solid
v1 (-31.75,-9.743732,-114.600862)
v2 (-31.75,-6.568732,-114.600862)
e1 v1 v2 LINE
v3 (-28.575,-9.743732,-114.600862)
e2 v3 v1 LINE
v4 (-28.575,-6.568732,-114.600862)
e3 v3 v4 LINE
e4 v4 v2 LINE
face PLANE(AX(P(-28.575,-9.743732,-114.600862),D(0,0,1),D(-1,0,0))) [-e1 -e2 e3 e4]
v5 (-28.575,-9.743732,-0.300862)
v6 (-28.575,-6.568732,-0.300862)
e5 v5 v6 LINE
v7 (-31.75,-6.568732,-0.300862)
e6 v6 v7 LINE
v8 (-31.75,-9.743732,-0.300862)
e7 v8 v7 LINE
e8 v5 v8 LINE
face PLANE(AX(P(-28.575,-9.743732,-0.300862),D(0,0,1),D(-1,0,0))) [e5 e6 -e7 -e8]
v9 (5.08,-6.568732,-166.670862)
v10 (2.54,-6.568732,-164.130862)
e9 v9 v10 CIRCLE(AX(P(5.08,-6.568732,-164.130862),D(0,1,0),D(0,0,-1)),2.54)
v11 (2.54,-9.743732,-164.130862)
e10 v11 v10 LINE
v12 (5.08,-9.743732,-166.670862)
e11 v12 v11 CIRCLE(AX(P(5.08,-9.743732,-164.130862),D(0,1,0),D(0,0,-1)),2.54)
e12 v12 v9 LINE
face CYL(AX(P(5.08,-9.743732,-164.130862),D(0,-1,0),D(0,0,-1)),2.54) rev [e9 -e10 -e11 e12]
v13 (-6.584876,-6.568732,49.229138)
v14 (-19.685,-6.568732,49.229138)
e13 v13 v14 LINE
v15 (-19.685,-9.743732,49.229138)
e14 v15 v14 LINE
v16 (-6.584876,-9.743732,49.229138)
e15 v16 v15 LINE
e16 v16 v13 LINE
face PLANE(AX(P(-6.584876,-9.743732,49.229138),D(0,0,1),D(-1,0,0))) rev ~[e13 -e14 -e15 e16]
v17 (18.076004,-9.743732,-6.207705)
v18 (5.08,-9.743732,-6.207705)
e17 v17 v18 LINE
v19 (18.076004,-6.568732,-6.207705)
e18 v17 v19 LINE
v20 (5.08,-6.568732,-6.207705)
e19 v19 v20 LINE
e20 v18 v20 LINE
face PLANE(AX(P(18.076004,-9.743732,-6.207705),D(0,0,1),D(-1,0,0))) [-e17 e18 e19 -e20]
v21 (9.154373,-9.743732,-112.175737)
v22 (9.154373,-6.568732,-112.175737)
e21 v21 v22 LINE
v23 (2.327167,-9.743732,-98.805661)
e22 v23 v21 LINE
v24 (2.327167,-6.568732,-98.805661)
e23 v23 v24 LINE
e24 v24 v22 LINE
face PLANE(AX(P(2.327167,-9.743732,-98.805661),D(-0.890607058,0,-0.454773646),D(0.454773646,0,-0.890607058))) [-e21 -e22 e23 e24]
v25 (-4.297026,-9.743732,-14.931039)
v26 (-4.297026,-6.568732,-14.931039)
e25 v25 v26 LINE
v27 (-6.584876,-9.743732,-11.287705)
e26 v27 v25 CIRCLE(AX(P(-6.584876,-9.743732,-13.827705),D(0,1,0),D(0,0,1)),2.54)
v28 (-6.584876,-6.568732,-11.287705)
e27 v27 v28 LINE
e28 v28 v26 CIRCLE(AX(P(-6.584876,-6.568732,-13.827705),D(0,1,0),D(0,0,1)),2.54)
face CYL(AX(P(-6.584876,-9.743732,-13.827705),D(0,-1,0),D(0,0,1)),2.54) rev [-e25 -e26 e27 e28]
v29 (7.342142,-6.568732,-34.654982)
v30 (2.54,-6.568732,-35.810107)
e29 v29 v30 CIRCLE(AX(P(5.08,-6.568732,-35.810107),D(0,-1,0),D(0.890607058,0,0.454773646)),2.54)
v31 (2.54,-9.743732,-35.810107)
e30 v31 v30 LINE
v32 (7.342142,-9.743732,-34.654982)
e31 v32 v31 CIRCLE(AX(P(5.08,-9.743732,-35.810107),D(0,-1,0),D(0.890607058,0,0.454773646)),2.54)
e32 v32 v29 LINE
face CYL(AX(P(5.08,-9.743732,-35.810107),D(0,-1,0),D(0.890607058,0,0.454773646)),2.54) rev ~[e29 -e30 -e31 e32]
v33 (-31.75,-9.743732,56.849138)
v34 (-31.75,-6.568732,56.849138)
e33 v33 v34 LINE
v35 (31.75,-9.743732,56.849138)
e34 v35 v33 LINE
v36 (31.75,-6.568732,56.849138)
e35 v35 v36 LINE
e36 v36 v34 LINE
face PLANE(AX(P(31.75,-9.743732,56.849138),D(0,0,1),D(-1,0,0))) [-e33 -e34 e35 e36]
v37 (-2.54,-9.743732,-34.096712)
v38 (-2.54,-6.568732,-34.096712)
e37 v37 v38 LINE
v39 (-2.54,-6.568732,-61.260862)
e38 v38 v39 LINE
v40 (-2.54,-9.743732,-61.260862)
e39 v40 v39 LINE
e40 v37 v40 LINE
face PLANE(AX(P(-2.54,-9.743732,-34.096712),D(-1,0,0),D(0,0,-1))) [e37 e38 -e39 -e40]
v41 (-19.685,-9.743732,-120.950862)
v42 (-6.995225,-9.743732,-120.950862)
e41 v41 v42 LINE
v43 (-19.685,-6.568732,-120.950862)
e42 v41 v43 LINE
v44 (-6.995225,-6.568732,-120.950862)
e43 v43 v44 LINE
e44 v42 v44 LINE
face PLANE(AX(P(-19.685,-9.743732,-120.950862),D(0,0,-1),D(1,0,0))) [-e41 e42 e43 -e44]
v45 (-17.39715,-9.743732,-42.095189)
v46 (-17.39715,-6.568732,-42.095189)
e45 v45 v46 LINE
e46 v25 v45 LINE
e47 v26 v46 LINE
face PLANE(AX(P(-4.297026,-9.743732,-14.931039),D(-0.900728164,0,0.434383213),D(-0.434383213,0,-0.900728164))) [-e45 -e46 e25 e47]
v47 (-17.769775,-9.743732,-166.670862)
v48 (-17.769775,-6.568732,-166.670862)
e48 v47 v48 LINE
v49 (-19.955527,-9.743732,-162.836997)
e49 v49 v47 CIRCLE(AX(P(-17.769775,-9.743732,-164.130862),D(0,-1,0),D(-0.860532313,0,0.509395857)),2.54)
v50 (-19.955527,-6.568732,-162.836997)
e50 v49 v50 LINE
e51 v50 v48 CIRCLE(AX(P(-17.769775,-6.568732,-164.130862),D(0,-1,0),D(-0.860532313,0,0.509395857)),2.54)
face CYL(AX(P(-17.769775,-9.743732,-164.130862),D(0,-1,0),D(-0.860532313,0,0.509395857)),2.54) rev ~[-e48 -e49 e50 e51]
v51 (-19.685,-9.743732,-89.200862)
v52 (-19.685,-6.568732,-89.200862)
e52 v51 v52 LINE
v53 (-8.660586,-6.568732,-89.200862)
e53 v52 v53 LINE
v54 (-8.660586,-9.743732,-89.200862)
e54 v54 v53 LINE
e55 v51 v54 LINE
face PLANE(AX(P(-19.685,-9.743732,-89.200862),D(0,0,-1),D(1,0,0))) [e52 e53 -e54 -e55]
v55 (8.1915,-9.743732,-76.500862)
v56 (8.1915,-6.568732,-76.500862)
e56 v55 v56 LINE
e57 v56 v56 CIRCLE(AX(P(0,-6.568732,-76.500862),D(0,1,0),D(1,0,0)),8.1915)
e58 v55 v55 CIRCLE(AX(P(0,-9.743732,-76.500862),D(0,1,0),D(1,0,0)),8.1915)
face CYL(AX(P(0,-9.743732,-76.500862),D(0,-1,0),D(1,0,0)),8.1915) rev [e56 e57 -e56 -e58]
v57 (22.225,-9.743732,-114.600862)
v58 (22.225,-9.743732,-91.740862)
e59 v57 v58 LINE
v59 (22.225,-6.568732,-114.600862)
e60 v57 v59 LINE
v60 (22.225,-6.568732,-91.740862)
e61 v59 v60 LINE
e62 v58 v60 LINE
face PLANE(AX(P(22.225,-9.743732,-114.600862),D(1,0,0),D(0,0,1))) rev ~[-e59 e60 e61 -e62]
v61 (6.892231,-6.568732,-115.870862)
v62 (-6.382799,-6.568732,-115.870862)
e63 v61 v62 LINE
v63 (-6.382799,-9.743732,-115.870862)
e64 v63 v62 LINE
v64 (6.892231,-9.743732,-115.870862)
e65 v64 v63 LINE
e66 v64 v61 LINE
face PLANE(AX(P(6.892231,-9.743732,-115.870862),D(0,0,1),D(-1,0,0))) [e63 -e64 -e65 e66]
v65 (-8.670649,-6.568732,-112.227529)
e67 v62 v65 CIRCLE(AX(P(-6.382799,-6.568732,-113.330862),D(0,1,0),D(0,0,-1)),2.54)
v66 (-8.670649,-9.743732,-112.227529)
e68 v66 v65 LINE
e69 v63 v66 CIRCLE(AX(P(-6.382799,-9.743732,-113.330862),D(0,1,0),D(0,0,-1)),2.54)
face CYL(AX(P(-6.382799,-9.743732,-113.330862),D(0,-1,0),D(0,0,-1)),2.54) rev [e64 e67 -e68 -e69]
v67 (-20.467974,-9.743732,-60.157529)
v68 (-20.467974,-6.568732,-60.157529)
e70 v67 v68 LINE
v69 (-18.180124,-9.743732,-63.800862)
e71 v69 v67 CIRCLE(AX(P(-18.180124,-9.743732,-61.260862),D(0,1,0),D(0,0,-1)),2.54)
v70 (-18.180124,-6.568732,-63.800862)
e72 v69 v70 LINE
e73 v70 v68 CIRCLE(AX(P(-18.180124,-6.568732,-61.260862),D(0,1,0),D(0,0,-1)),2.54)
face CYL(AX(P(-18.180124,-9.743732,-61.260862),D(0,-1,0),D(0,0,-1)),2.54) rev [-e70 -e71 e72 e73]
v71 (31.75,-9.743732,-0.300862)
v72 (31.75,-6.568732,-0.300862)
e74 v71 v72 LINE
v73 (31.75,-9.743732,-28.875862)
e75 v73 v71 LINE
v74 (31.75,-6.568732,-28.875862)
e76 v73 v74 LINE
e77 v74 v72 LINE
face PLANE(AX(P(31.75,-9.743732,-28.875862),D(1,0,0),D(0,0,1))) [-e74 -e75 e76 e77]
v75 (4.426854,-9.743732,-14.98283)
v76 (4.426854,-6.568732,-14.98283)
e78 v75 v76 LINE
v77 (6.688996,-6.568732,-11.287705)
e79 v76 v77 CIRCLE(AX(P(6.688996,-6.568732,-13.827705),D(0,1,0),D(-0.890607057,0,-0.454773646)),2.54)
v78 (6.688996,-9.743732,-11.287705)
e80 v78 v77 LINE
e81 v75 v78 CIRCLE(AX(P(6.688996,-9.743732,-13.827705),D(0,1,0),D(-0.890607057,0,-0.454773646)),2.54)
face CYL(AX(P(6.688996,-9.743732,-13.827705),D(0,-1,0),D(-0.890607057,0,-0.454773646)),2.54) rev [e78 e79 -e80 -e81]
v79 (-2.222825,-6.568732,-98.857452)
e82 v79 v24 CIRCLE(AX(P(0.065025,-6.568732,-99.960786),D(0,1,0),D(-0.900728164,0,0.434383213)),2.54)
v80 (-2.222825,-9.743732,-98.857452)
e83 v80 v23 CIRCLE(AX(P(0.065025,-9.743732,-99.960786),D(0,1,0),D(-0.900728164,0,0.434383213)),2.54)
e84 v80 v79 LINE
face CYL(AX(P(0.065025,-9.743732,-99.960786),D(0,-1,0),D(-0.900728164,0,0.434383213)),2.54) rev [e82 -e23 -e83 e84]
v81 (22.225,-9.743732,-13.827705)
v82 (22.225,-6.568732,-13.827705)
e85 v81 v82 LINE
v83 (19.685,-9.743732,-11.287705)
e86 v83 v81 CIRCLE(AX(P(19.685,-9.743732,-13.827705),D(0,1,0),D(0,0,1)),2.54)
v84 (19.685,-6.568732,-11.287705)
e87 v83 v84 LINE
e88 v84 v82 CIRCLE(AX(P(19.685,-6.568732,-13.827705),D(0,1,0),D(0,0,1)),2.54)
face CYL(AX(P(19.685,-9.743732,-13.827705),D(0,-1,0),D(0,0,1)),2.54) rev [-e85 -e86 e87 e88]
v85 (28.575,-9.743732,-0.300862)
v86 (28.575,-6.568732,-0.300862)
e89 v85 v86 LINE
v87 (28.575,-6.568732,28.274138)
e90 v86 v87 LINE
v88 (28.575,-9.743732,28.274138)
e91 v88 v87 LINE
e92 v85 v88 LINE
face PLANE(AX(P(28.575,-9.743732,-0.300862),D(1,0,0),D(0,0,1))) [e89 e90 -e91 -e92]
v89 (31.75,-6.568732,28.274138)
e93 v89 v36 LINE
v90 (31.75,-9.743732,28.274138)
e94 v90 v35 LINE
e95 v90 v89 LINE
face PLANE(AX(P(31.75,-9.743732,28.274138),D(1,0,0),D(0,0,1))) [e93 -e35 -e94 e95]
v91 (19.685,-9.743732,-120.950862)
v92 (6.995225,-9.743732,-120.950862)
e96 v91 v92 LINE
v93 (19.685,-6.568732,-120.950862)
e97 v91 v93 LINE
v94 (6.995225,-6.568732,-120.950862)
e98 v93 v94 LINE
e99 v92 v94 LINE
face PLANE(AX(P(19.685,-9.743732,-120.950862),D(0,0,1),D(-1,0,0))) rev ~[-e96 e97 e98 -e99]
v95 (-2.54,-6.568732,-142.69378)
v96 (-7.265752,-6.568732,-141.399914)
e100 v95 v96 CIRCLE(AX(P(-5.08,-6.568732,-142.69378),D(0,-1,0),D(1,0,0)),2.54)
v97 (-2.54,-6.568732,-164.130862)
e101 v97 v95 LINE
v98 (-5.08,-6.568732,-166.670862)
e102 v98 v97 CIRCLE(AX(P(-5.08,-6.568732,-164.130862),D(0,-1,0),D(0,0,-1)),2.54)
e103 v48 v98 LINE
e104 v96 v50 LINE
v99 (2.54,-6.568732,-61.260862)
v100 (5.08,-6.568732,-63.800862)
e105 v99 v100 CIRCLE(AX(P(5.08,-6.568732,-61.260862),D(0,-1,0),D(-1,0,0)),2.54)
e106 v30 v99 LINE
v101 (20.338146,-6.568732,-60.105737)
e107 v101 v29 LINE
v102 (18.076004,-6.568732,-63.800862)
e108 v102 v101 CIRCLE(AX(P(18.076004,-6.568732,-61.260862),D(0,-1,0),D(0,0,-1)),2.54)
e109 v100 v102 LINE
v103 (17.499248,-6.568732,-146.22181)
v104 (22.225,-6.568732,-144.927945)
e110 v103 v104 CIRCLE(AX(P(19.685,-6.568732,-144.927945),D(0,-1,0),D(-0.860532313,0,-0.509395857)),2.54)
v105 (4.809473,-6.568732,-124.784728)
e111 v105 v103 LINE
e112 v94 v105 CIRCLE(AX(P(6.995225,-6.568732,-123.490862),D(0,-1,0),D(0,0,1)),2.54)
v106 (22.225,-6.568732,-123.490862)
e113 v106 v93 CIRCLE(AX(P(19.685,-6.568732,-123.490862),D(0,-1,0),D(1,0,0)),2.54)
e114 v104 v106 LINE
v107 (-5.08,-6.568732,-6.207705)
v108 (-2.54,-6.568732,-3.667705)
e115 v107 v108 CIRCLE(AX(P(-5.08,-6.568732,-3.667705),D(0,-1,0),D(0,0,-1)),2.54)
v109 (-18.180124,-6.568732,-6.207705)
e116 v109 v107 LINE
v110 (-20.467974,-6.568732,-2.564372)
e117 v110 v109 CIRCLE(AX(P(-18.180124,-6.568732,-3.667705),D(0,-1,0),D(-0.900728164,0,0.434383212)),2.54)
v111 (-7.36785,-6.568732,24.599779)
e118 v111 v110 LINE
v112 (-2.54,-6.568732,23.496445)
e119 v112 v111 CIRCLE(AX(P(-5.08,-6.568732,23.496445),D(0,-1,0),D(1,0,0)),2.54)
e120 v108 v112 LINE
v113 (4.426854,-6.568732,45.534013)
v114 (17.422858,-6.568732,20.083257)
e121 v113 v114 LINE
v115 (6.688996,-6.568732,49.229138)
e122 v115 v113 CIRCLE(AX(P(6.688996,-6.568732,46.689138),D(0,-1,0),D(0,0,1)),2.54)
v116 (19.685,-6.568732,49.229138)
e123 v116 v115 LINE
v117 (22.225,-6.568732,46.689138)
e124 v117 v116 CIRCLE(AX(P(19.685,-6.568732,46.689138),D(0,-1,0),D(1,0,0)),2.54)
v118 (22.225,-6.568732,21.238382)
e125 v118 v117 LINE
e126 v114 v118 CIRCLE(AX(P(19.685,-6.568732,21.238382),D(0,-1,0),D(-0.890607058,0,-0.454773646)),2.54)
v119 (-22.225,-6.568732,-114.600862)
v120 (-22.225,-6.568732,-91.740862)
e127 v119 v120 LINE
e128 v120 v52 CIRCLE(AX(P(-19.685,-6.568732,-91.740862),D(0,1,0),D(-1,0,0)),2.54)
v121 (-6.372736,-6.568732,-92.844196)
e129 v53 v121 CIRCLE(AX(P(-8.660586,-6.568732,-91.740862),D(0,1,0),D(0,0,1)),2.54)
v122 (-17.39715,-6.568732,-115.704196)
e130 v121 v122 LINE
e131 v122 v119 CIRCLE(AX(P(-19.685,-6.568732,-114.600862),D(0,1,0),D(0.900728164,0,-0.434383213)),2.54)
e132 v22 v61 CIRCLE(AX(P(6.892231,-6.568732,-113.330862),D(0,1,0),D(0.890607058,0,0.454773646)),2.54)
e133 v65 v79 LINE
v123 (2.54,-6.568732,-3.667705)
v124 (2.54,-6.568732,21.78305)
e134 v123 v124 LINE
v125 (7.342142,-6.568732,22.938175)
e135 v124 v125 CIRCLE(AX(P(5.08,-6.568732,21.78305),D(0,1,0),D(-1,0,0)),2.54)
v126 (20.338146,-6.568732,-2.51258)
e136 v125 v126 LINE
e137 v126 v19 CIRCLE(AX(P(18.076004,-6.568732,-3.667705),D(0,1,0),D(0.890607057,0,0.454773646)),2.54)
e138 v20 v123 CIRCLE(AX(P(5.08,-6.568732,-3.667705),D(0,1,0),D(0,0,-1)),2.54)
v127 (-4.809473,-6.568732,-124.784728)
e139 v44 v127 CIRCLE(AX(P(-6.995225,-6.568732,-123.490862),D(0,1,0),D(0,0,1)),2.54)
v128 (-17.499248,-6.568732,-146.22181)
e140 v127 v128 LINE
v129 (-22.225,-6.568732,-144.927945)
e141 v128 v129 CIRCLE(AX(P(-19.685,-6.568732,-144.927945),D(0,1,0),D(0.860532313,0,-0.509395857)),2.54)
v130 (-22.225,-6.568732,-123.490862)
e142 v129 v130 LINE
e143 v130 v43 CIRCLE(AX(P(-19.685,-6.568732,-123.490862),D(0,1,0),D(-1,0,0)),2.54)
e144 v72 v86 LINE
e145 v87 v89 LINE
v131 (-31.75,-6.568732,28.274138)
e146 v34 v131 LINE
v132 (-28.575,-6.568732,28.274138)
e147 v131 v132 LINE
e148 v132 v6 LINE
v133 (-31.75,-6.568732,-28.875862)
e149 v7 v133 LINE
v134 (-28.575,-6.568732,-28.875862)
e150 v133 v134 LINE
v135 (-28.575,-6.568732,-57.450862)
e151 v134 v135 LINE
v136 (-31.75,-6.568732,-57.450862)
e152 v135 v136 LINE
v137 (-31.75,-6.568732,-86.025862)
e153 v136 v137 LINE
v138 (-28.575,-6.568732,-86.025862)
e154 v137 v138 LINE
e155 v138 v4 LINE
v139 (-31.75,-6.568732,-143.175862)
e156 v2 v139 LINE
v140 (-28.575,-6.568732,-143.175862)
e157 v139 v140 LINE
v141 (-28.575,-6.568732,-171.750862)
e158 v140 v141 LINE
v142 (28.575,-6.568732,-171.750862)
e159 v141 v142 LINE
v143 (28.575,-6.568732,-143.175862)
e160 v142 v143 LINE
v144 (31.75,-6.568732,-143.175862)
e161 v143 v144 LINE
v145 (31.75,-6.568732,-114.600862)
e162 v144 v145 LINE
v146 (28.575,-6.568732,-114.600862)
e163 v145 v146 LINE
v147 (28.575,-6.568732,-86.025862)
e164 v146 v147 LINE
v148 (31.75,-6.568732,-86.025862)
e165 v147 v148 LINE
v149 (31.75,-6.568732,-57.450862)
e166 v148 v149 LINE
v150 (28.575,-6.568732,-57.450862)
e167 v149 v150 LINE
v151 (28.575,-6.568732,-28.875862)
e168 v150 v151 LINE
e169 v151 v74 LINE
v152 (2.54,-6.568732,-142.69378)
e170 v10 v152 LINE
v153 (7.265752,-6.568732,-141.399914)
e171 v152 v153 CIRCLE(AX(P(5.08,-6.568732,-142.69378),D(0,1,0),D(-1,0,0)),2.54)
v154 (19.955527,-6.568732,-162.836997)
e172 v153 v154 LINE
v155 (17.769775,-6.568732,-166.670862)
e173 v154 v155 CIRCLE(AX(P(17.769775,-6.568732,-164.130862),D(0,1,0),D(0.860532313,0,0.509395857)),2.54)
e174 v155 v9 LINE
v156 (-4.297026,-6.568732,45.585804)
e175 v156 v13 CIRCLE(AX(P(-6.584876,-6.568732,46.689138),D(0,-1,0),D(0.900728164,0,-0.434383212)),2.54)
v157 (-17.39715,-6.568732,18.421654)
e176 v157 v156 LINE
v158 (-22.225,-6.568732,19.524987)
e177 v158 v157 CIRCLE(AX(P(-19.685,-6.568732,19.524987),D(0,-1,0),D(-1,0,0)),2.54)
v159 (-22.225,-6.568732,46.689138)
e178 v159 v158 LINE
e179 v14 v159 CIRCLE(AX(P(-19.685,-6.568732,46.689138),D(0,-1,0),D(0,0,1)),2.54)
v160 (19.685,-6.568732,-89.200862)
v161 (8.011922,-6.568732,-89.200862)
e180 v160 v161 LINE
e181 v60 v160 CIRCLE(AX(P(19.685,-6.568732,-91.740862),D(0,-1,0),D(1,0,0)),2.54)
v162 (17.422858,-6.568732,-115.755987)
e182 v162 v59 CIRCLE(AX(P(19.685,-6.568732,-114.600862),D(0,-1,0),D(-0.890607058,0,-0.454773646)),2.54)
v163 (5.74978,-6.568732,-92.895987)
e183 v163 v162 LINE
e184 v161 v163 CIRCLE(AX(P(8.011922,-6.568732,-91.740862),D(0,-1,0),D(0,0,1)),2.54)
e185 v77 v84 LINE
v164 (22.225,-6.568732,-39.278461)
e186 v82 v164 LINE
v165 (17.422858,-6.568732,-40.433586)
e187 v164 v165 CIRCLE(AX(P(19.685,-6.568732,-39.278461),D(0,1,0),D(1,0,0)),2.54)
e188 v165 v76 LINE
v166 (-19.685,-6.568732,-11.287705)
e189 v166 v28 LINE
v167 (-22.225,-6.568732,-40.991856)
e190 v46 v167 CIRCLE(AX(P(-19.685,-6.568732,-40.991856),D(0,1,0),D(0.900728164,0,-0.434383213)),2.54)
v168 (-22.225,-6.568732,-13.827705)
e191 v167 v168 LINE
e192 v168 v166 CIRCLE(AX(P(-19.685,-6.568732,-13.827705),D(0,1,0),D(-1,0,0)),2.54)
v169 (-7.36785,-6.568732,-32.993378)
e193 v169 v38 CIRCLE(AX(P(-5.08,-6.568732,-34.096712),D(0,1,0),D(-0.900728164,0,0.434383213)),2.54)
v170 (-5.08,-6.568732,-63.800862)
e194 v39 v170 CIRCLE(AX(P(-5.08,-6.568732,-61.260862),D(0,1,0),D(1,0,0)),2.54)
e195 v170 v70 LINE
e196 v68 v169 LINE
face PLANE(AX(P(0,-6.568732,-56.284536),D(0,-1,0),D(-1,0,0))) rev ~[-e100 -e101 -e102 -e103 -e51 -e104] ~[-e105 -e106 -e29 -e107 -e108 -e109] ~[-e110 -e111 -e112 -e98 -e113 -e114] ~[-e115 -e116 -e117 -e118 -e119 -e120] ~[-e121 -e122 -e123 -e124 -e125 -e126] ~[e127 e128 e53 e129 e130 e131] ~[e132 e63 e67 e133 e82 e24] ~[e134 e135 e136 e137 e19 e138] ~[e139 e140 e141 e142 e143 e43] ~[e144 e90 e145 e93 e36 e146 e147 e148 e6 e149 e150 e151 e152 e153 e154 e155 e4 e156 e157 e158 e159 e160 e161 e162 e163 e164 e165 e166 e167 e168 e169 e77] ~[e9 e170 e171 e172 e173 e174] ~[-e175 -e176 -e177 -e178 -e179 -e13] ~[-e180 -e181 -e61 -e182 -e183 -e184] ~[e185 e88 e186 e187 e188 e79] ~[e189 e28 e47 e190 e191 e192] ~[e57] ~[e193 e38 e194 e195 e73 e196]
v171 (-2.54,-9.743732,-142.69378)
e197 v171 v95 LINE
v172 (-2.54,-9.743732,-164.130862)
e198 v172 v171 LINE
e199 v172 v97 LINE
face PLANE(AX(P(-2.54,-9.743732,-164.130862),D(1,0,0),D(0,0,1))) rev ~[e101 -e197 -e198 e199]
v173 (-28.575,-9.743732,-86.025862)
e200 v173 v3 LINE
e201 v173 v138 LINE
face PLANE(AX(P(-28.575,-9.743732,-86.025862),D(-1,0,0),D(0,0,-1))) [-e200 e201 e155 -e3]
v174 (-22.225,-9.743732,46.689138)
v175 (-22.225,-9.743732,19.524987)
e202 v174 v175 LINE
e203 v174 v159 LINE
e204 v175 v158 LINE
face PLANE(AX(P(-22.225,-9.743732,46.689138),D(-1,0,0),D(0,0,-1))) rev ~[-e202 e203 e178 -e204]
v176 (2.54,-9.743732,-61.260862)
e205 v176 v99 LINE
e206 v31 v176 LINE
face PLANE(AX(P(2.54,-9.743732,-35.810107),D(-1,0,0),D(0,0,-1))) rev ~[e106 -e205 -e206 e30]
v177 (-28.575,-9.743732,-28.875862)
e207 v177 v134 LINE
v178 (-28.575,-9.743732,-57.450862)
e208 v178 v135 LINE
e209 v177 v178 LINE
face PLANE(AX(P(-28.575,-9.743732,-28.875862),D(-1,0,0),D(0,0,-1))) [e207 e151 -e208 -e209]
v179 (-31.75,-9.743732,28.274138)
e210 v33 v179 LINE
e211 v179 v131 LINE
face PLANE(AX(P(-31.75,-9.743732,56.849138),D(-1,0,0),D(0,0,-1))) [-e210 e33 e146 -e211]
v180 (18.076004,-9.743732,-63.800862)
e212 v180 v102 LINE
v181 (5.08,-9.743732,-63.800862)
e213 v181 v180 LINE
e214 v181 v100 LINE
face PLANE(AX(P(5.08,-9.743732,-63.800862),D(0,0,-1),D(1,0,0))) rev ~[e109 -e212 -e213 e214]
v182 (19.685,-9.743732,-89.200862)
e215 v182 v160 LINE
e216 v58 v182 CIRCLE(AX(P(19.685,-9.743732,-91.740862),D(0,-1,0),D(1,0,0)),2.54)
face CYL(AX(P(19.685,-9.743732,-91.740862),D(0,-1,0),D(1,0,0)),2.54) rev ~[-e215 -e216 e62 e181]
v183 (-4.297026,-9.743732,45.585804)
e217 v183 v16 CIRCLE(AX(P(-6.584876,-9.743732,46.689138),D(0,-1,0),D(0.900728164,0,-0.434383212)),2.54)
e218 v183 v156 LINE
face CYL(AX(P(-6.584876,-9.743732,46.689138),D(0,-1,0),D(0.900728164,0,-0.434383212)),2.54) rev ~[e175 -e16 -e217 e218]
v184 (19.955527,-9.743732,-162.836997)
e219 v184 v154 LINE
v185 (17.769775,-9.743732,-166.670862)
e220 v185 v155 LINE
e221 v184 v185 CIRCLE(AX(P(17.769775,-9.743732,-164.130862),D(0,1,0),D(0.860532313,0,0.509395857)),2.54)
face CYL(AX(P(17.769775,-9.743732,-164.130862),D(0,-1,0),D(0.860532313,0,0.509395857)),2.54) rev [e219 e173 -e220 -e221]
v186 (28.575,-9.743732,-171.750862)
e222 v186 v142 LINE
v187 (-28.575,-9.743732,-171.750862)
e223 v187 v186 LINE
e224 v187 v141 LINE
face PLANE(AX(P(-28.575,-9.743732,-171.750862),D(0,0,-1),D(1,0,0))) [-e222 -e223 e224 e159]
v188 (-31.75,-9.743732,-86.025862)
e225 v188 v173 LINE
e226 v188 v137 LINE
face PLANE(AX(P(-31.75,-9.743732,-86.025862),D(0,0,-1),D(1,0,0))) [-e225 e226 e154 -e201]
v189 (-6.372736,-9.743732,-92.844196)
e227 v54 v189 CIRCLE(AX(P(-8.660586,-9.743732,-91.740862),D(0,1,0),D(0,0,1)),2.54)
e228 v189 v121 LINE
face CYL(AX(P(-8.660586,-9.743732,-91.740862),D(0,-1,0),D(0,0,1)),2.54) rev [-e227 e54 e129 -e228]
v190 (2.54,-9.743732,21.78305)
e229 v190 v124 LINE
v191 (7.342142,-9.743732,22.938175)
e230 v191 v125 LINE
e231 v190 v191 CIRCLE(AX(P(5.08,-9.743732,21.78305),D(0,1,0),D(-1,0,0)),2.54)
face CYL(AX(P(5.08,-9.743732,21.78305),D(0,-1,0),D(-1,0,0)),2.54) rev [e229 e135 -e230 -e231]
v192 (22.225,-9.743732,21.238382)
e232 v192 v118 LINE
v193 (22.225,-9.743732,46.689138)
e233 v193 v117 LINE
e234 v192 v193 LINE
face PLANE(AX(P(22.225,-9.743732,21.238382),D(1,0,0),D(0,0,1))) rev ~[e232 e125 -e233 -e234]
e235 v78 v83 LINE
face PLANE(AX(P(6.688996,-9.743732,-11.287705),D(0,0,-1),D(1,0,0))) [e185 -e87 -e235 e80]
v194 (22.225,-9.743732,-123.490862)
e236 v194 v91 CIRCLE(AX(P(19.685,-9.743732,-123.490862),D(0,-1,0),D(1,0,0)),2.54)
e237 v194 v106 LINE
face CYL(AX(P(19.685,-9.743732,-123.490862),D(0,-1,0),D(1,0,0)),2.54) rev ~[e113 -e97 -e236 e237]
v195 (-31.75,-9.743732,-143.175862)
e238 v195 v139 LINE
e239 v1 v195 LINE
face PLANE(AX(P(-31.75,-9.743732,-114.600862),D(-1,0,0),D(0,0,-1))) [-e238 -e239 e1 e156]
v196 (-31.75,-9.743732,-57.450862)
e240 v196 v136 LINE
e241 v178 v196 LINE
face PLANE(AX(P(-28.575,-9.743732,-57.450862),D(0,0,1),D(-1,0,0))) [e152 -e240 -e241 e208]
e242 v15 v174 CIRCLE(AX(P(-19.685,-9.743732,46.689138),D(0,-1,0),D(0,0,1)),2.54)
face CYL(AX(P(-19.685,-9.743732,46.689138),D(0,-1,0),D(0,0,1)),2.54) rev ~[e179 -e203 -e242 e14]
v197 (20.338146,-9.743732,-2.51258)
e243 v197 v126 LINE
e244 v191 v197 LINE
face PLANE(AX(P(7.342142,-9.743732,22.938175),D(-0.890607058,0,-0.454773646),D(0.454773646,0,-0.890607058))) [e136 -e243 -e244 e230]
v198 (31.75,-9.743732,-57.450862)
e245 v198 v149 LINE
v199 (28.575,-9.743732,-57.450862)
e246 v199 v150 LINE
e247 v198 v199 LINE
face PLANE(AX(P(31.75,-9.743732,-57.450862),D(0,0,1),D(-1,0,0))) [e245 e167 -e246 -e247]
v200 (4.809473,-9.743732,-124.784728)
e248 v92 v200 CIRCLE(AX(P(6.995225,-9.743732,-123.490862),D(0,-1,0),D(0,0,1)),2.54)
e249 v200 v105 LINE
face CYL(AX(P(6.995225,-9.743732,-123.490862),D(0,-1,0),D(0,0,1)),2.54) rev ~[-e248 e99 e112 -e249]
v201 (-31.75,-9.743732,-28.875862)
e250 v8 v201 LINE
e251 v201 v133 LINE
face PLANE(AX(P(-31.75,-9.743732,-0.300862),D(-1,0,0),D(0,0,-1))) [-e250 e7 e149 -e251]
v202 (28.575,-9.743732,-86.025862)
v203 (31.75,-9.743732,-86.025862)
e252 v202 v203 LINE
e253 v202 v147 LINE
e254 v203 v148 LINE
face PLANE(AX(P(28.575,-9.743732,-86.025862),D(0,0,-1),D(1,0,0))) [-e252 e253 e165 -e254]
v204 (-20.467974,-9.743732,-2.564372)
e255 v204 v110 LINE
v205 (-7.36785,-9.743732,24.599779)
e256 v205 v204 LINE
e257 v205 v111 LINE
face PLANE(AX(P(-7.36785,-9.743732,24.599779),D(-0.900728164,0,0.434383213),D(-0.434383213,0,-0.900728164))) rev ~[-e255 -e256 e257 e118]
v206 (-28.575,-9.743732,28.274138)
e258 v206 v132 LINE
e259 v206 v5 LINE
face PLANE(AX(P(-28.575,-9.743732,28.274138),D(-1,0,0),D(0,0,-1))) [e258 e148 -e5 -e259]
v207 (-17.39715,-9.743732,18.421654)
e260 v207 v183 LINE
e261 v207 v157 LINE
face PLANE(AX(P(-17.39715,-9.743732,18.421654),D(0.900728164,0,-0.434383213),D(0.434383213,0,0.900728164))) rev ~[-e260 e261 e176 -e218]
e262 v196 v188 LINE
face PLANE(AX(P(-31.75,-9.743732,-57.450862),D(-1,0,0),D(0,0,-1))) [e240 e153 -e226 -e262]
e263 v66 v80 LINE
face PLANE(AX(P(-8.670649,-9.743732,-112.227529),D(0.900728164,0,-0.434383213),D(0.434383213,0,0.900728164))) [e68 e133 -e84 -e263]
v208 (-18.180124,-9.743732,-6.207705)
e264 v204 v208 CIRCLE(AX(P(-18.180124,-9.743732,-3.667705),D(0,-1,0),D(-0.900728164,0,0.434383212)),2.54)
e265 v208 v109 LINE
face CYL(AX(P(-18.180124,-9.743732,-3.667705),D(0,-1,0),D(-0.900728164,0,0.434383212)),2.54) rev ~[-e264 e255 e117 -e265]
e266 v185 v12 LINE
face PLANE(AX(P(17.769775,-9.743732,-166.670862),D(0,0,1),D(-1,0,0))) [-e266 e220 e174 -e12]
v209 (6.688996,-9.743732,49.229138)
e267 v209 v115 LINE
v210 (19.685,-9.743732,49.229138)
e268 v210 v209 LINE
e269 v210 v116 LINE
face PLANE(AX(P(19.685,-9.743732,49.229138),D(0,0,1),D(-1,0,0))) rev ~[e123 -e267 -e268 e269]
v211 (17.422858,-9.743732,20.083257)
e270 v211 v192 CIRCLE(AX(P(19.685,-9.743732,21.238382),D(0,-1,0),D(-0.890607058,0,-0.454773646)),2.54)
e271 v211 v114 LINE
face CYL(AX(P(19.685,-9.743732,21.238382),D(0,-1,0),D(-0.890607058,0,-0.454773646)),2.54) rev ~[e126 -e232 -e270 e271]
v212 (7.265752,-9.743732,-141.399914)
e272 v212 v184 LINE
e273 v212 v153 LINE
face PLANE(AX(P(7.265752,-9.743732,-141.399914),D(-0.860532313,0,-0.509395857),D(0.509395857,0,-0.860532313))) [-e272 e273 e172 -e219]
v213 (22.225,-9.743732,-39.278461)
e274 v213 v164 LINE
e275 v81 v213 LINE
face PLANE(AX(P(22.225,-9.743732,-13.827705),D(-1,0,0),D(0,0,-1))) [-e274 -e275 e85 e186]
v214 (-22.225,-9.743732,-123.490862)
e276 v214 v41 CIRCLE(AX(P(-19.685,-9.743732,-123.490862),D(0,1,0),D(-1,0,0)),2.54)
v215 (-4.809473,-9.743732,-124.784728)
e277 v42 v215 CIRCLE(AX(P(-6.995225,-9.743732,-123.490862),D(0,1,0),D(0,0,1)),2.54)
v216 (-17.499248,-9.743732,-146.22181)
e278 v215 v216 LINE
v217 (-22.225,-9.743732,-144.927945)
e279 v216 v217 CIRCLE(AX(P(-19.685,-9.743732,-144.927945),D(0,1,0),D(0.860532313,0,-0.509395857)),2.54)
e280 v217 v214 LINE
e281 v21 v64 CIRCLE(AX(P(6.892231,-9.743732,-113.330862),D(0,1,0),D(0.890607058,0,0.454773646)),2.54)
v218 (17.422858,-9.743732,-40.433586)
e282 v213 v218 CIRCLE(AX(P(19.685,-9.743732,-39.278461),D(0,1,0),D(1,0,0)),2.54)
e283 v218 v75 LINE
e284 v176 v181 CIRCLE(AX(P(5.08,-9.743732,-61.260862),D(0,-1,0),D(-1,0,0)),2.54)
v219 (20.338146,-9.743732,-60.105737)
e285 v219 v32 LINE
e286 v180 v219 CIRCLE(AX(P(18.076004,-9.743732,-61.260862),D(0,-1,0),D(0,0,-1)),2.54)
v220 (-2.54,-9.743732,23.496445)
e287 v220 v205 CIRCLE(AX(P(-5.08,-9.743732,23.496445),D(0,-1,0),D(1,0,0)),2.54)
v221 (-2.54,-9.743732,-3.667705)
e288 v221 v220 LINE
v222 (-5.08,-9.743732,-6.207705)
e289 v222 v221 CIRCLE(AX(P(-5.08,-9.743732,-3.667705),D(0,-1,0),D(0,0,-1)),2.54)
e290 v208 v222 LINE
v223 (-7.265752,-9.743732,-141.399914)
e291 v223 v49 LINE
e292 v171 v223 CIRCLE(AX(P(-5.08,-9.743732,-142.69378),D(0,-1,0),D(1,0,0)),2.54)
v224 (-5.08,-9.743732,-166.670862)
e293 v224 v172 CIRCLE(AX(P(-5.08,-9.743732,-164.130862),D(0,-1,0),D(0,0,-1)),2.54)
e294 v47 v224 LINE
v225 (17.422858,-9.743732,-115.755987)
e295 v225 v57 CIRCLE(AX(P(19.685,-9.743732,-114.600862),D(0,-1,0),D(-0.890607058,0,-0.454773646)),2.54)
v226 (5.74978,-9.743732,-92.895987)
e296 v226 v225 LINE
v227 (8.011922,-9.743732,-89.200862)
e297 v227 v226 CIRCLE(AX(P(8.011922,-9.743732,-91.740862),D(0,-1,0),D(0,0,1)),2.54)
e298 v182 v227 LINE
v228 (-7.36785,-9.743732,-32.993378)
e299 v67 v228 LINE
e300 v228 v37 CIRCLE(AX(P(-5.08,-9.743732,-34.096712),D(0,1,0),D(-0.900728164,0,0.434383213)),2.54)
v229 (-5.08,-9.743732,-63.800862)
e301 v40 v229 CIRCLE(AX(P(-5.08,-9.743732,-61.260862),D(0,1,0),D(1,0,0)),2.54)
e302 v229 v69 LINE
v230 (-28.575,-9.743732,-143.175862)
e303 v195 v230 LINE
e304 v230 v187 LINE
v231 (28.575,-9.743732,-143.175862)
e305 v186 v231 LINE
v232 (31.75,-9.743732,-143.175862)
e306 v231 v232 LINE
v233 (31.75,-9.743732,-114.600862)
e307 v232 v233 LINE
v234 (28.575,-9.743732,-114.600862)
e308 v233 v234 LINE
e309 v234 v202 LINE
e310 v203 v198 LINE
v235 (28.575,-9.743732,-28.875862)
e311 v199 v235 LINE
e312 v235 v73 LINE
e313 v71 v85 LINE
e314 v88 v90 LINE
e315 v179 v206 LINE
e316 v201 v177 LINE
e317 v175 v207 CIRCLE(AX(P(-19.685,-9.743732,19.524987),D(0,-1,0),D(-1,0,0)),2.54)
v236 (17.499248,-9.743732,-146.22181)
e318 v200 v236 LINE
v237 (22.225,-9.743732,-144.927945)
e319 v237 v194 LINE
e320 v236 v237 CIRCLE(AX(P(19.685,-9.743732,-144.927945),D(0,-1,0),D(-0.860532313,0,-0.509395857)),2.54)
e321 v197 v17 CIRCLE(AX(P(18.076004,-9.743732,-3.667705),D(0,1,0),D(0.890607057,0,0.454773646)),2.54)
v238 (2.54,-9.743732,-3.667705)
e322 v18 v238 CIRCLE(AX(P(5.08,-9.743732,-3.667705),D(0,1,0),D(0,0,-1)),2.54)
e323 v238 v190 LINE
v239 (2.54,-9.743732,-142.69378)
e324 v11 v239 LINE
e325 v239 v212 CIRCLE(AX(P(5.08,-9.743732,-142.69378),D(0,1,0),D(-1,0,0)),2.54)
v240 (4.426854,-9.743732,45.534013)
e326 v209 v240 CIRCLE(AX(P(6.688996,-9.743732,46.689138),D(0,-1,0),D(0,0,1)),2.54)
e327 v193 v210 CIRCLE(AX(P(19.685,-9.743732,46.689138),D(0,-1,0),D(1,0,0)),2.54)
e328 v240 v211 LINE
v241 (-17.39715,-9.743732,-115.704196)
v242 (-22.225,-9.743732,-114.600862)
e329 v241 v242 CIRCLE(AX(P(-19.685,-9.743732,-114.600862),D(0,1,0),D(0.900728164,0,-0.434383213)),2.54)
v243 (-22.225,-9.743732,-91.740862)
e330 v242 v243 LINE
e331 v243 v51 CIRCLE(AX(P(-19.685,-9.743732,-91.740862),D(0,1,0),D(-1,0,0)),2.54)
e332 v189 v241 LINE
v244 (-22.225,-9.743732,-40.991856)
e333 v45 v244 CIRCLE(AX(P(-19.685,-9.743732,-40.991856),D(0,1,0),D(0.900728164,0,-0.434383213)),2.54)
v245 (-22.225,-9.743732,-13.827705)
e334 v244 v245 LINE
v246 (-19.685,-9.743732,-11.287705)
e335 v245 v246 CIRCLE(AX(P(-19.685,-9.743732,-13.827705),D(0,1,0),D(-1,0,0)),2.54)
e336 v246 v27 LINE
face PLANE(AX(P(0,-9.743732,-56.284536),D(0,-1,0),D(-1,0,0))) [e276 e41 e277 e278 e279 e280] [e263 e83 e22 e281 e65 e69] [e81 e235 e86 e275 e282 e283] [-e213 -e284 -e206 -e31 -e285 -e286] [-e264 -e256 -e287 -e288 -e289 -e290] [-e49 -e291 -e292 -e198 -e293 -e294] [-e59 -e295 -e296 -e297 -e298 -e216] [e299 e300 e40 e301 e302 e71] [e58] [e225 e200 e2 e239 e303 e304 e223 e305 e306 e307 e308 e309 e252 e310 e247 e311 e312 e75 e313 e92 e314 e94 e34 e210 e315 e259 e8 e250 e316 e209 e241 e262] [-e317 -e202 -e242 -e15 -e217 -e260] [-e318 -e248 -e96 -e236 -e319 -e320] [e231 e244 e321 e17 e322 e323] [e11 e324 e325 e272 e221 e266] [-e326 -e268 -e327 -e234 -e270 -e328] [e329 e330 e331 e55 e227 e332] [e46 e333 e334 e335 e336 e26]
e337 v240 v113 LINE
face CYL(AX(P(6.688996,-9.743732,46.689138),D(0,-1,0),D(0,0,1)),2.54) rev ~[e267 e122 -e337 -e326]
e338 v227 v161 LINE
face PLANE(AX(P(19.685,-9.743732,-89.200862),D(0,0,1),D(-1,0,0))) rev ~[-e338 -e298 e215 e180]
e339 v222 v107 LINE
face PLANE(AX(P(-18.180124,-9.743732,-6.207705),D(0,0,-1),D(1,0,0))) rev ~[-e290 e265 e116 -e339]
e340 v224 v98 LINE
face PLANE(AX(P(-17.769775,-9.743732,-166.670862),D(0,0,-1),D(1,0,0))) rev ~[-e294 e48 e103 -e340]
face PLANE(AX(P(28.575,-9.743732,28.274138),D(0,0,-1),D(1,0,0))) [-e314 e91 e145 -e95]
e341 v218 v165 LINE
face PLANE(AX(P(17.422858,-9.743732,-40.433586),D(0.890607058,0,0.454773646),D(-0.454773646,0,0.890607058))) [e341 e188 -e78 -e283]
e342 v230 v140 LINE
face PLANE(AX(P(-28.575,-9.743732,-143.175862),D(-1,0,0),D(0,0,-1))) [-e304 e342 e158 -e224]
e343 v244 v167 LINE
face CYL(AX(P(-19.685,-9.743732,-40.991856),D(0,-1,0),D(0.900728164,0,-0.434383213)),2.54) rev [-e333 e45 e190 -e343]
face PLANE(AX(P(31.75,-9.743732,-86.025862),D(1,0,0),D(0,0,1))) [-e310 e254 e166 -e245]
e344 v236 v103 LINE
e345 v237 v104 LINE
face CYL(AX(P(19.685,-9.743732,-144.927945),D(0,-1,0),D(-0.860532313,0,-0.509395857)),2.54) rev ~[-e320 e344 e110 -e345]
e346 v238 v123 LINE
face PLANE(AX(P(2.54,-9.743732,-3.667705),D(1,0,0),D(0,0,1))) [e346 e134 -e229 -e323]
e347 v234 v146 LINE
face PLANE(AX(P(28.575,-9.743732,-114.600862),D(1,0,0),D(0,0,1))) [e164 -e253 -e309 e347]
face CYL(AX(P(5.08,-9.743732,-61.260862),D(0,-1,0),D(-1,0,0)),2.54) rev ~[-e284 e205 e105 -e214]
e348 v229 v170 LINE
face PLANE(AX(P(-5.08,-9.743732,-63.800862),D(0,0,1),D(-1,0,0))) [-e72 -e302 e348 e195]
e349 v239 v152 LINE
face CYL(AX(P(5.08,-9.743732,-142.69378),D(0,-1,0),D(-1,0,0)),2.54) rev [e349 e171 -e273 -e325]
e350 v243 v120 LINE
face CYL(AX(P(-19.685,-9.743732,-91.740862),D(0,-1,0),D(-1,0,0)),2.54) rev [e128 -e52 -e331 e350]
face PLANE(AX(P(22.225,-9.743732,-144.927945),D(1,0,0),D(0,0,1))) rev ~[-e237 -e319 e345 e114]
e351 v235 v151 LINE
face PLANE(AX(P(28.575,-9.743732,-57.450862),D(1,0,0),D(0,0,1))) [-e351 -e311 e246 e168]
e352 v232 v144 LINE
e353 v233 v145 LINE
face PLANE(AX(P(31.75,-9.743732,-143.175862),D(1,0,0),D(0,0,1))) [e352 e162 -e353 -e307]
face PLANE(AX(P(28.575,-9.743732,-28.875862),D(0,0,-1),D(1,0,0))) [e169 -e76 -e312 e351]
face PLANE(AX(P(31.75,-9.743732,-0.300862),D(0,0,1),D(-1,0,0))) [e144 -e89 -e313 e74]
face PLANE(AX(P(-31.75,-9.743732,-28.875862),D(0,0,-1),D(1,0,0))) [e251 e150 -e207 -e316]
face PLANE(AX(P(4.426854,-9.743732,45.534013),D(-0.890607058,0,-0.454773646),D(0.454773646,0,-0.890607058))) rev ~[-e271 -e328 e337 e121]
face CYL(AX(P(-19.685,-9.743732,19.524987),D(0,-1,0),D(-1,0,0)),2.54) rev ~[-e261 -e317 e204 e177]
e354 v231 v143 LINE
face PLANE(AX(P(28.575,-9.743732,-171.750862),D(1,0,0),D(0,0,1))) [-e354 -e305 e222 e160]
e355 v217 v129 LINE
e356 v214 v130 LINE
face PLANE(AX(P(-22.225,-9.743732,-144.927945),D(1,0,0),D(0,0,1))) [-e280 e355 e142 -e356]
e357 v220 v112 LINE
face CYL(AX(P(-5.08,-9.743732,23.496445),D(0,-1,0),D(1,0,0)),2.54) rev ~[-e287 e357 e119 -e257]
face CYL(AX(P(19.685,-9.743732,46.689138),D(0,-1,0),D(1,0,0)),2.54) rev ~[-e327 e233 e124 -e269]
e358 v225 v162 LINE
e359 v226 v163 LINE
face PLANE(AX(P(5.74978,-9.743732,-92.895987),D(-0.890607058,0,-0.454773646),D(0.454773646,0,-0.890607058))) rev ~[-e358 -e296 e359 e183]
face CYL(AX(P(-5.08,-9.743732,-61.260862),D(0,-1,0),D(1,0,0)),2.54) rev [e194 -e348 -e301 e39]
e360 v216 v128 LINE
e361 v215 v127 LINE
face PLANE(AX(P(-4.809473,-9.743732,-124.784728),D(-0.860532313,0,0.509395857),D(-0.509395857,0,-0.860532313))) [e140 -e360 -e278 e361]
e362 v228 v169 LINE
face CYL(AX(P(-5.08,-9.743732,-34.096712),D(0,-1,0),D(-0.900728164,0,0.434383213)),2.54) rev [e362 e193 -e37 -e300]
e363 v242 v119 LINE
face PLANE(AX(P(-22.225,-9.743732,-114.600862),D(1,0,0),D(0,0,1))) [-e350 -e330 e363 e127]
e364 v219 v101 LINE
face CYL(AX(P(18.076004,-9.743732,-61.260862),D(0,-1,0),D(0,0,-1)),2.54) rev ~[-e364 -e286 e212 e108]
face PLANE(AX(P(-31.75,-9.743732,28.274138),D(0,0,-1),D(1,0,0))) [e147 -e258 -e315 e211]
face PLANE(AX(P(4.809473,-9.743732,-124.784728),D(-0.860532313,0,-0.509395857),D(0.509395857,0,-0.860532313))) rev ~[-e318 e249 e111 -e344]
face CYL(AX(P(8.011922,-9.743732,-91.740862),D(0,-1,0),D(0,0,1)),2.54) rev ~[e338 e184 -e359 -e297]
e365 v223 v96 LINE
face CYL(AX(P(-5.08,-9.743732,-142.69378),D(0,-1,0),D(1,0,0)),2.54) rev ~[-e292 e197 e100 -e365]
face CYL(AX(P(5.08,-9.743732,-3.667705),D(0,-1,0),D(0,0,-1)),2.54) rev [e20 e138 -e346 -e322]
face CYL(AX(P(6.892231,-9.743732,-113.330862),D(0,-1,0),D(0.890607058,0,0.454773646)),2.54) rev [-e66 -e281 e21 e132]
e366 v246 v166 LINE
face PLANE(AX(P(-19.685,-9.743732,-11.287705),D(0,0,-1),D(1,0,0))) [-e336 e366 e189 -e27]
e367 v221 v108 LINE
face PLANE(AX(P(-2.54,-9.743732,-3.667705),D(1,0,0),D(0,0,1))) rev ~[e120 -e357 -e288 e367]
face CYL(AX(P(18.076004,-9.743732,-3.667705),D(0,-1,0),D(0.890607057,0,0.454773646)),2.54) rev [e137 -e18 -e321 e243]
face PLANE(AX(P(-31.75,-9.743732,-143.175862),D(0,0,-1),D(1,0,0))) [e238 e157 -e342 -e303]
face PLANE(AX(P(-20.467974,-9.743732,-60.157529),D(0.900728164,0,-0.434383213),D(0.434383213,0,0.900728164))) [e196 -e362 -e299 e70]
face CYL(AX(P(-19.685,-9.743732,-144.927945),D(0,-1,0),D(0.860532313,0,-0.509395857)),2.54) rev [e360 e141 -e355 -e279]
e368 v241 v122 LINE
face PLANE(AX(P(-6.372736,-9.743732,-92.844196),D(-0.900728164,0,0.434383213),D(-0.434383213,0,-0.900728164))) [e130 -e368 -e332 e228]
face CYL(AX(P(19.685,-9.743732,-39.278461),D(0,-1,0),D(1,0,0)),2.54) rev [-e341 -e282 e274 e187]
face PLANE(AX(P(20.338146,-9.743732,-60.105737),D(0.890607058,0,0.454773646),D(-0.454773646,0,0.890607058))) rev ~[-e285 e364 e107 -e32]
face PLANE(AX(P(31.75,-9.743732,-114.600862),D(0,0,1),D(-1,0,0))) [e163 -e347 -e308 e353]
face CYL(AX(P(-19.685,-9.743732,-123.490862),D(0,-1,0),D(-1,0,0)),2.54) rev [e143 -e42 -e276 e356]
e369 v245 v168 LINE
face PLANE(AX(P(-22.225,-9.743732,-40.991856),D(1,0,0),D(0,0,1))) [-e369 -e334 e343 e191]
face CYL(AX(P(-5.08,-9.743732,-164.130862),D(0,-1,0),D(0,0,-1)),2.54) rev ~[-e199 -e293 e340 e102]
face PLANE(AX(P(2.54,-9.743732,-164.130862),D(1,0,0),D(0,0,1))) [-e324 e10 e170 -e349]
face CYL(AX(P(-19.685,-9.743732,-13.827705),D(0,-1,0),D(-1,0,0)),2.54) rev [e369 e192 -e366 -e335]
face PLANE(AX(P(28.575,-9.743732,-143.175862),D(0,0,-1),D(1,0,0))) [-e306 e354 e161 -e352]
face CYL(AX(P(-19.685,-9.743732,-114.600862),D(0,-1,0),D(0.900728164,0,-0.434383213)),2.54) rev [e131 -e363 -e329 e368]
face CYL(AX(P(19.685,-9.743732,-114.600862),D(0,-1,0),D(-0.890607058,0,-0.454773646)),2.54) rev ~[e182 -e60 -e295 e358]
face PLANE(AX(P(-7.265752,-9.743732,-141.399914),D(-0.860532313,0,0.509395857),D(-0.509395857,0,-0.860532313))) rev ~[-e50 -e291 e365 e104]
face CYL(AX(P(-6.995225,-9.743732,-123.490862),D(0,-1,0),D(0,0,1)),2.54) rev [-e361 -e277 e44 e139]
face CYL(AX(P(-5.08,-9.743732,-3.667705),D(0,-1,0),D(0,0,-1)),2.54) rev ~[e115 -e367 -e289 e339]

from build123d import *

# Parameters (mm, degrees)
SKETCH1_R           = 8.1915
BOSS_EXTRUDE1_DEPTH = 3.175


with BuildPart() as part:
    # Sketch1 → Boss-Extrude1 (new body)
    with BuildSketch(Plane(origin=(0, -9.743731804, 0), x_dir=(1, 0, 0), z_dir=(0, 1, 0))):
        Polygon((-31.75, 143.175862399), (-28.575, 143.175862399), (-28.575, 171.750862399), (28.575, 171.750862399), (28.575, 143.175862399), (31.75, 143.175862399), (31.75, 114.600862399), (28.575, 114.600862399), (28.575, 86.025862399), (31.75, 86.025862399), (31.75, 57.450862399), (28.575, 57.450862399), (28.575, 28.875862399), (31.75, 28.875862399), (31.75, 0.300862399), (28.575, 0.300862399), (28.575, -28.274137601), (31.75, -28.274137601), (31.75, -56.849137601), (-31.75, -56.849137601), (-31.75, -28.274137601), (-28.575, -28.274137601), (-28.575, 0.300862399), (-31.75, 0.300862399), (-31.75, 28.875862399), (-28.575, 28.875862399), (-28.575, 57.450862399), (-31.75, 57.450862399), (-31.75, 86.025862399), (-28.575, 86.025862399), (-28.575, 114.600862399), (-31.75, 114.600862399), align=None)
        with Locations((0, 76.500862399)):
            Circle(SKETCH1_R, mode=Mode.SUBTRACT)
        with BuildLine():
            Line((-17.769774531, 166.670862399), (-5.08, 166.670862399))
            ThreePointArc((-5.08, 166.670862399), (-3.283948776, 165.926913623), (-2.54, 164.130862399))
            Line((-2.54, 164.130862399), (-2.54, 142.693779868))
            ThreePointArc((-2.54, 142.693779868), (-4.409257974, 140.243942091), (-7.265752074, 141.399914392))
            Line((-7.265752074, 141.399914392), (-19.955526605, 162.836996923))
            ThreePointArc((-19.955526605, 162.836996923), (-19.976357671, 165.388873069), (-17.769774531, 166.670862399))
        make_face(mode=Mode.SUBTRACT)
        with BuildLine():
            Line((2.54, 164.130862399), (2.54, 142.693779868))
            ThreePointArc((2.54, 142.693779868), (4.409257974, 140.243942091), (7.265752074, 141.399914392))
            Line((7.265752074, 141.399914392), (19.955526605, 162.836996923))
            ThreePointArc((19.955526605, 162.836996923), (19.976357671, 165.388873069), (17.769774531, 166.670862399))
            Line((17.769774531, 166.670862399), (5.08, 166.670862399))
            ThreePointArc((5.08, 166.670862399), (3.283948776, 165.926913623), (2.54, 164.130862399))
        make_face(mode=Mode.SUBTRACT)
        with BuildLine():
            Line((-22.225, 144.92794493), (-22.225, 123.490862399))
            ThreePointArc((-22.225, 123.490862399), (-21.481051224, 121.694811175), (-19.685, 120.950862399))
            Line((-19.685, 120.950862399), (-6.995225469, 120.950862399))
            ThreePointArc((-6.995225469, 120.950862399), (-4.788642329, 122.232851729), (-4.809473395, 124.784727875))
            Line((-4.809473395, 124.784727875), (-17.499247926, 146.221810406))
            ThreePointArc((-17.499247926, 146.221810406), (-20.355742026, 147.377782707), (-22.225, 144.92794493))
        make_face(mode=Mode.SUBTRACT)
        with BuildLine():
            Line((4.809473395, 124.784727875), (17.499247926, 146.221810406))
            ThreePointArc((17.499247926, 146.221810406), (20.355742026, 147.377782707), (22.225, 144.92794493))
            Line((22.225, 144.92794493), (22.225, 123.490862399))
            ThreePointArc((22.225, 123.490862399), (21.481051224, 121.694811175), (19.685, 120.950862399))
            Line((19.685, 120.950862399), (6.995225469, 120.950862399))
            ThreePointArc((6.995225469, 120.950862399), (4.788642329, 122.232851729), (4.809473395, 124.784727875))
        make_face(mode=Mode.SUBTRACT)
        with BuildLine():
            Line((5.749780192, 92.89598746), (17.422858074, 115.75598746))
            ThreePointArc((17.422858074, 115.75598746), (20.279036829, 117.070421114), (22.225, 114.600862399))
            Line((22.225, 114.600862399), (22.225, 91.740862399))
            ThreePointArc((22.225, 91.740862399), (21.481051224, 89.944811175), (19.685, 89.200862399))
            Line((19.685, 89.200862399), (8.011922118, 89.200862399))
            ThreePointArc((8.011922118, 89.200862399), (5.845632934, 90.414668155), (5.749780192, 92.89598746))
        make_face(mode=Mode.SUBTRACT)
        with BuildLine():
            Line((-6.372736394, 92.844195759), (-17.397150465, 115.704195759))
            ThreePointArc((-17.397150465, 115.704195759), (-20.250889645, 117.077022513), (-22.225, 114.600862399))
            Line((-22.225, 114.600862399), (-22.225, 91.740862399))
            ThreePointArc((-22.225, 91.740862399), (-21.481051224, 89.944811175), (-19.685, 89.200862399))
            Line((-19.685, 89.200862399), (-8.66058593, 89.200862399))
            ThreePointArc((-8.66058593, 89.200862399), (-6.509531917, 90.390097196), (-6.372736394, 92.844195759))
        make_face(mode=Mode.SUBTRACT)
        with BuildLine():
            Line((5.08, 63.800862399), (18.076004066, 63.800862399))
            ThreePointArc((18.076004066, 63.800862399), (20.24229325, 62.587056643), (20.338145992, 60.105737338))
            Line((20.338145992, 60.105737338), (7.342141926, 34.654981681))
            ThreePointArc((7.342141926, 34.654981681), (4.485963171, 33.340548027), (2.54, 35.810106741))
            Line((2.54, 35.810106741), (2.54, 61.260862399))
            ThreePointArc((2.54, 61.260862399), (3.283948776, 63.056913623), (5.08, 63.800862399))
        make_face(mode=Mode.SUBTRACT)
        with BuildLine():
            Line((-5.08, 63.800862399), (-18.180124412, 63.800862399))
            ThreePointArc((-18.180124412, 63.800862399), (-20.331178425, 62.611627602), (-20.467973948, 60.157529039))
            Line((-20.467973948, 60.157529039), (-7.367849535, 32.993378441))
            ThreePointArc((-7.367849535, 32.993378441), (-4.514110355, 31.620551687), (-2.54, 34.096711801))
            Line((-2.54, 34.096711801), (-2.54, 61.260862399))
            ThreePointArc((-2.54, 61.260862399), (-3.283948776, 63.056913623), (-5.08, 63.800862399))
        make_face(mode=Mode.SUBTRACT)
        with BuildLine():
            Line((17.422858074, 40.433585982), (4.426854008, 14.982830325))
            ThreePointArc((4.426854008, 14.982830325), (4.52270675, 12.50151102), (6.688995934, 11.287705264))
            Line((6.688995934, 11.287705264), (19.685, 11.287705264))
            ThreePointArc((19.685, 11.287705264), (21.481051224, 12.03165404), (22.225, 13.827705264))
            Line((22.225, 13.827705264), (22.225, 39.278460922))
            ThreePointArc((22.225, 39.278460922), (20.279036829, 41.748019636), (17.422858074, 40.433585982))
        make_face(mode=Mode.SUBTRACT)
        with BuildLine():
            Line((-22.225, 40.991855862), (-22.225, 13.827705264))
            ThreePointArc((-22.225, 13.827705264), (-21.481051224, 12.03165404), (-19.685, 11.287705264))
            Line((-19.685, 11.287705264), (-6.584875588, 11.287705264))
            ThreePointArc((-6.584875588, 11.287705264), (-4.433821575, 12.476940061), (-4.297026052, 14.931038624))
            Line((-4.297026052, 14.931038624), (-17.397150465, 42.095189222))
            ThreePointArc((-17.397150465, 42.095189222), (-20.250889645, 43.468015976), (-22.225, 40.991855862))
        make_face(mode=Mode.SUBTRACT)
        with BuildLine():
            Line((-18.180124412, 6.207705264), (-5.08, 6.207705264))
            ThreePointArc((-5.08, 6.207705264), (-3.283948776, 5.463756488), (-2.54, 3.667705264))
            Line((-2.54, 3.667705264), (-2.54, -23.496445334))
            ThreePointArc((-2.54, -23.496445334), (-4.514110355, -25.972605448), (-7.367849535, -24.599778694))
            Line((-7.367849535, -24.599778694), (-20.467973948, 2.564371904))
            ThreePointArc((-20.467973948, 2.564371904), (-20.331178425, 5.018470467), (-18.180124412, 6.207705264))
        make_face(mode=Mode.SUBTRACT)
        with BuildLine():
            Line((2.54, 3.667705264), (2.54, -21.783050394))
            ThreePointArc((2.54, -21.783050394), (4.485963171, -24.252609108), (7.342141926, -22.938175454))
            Line((7.342141926, -22.938175454), (20.338145992, 2.512580203))
            ThreePointArc((20.338145992, 2.512580203), (20.24229325, 4.993899508), (18.076004066, 6.207705264))
            Line((18.076004066, 6.207705264), (5.08, 6.207705264))
            ThreePointArc((5.08, 6.207705264), (3.283948776, 5.463756488), (2.54, 3.667705264))
        make_face(mode=Mode.SUBTRACT)
        with BuildLine():
            Line((4.426854008, -45.53401254), (17.422858074, -20.083256883))
            ThreePointArc((17.422858074, -20.083256883), (20.279036829, -18.768823229), (22.225, -21.238381943))
            Line((22.225, -21.238381943), (22.225, -46.689137601))
            ThreePointArc((22.225, -46.689137601), (21.481051224, -48.485188825), (19.685, -49.229137601))
            Line((19.685, -49.229137601), (6.688995934, -49.229137601))
            ThreePointArc((6.688995934, -49.229137601), (4.52270675, -48.015331845), (4.426854008, -45.53401254))
        make_face(mode=Mode.SUBTRACT)
        with BuildLine():
            Line((-17.397150465, -18.421653643), (-4.297026052, -45.585804241))
            ThreePointArc((-4.297026052, -45.585804241), (-4.433821575, -48.039902804), (-6.584875588, -49.229137601))
            Line((-6.584875588, -49.229137601), (-19.685, -49.229137601))
            ThreePointArc((-19.685, -49.229137601), (-21.481051224, -48.485188825), (-22.225, -46.689137601))
            Line((-22.225, -46.689137601), (-22.225, -19.524987003))
            ThreePointArc((-22.225, -19.524987003), (-20.250889645, -17.048826889), (-17.397150465, -18.421653643))
        make_face(mode=Mode.SUBTRACT)
        with BuildLine():
            Line((6.89223147, 115.870862399), (-6.382799442, 115.870862399))
            ThreePointArc((-6.382799442, 115.870862399), (-8.533853455, 114.681627602), (-8.670648977, 112.227529039))
            Line((-8.670648977, 112.227529039), (-2.222824791, 98.857452412))
            ThreePointArc((-2.222824791, 98.857452412), (0.036114273, 97.420950308), (2.32716667, 98.805660711))
            Line((2.32716667, 98.805660711), (9.154373397, 112.175737338))
            ThreePointArc((9.154373397, 112.175737338), (9.058520654, 114.657056643), (6.89223147, 115.870862399))
        make_face(mode=Mode.SUBTRACT)
    extrude(amount=BOSS_EXTRUDE1_DEPTH)


solid = part.part
